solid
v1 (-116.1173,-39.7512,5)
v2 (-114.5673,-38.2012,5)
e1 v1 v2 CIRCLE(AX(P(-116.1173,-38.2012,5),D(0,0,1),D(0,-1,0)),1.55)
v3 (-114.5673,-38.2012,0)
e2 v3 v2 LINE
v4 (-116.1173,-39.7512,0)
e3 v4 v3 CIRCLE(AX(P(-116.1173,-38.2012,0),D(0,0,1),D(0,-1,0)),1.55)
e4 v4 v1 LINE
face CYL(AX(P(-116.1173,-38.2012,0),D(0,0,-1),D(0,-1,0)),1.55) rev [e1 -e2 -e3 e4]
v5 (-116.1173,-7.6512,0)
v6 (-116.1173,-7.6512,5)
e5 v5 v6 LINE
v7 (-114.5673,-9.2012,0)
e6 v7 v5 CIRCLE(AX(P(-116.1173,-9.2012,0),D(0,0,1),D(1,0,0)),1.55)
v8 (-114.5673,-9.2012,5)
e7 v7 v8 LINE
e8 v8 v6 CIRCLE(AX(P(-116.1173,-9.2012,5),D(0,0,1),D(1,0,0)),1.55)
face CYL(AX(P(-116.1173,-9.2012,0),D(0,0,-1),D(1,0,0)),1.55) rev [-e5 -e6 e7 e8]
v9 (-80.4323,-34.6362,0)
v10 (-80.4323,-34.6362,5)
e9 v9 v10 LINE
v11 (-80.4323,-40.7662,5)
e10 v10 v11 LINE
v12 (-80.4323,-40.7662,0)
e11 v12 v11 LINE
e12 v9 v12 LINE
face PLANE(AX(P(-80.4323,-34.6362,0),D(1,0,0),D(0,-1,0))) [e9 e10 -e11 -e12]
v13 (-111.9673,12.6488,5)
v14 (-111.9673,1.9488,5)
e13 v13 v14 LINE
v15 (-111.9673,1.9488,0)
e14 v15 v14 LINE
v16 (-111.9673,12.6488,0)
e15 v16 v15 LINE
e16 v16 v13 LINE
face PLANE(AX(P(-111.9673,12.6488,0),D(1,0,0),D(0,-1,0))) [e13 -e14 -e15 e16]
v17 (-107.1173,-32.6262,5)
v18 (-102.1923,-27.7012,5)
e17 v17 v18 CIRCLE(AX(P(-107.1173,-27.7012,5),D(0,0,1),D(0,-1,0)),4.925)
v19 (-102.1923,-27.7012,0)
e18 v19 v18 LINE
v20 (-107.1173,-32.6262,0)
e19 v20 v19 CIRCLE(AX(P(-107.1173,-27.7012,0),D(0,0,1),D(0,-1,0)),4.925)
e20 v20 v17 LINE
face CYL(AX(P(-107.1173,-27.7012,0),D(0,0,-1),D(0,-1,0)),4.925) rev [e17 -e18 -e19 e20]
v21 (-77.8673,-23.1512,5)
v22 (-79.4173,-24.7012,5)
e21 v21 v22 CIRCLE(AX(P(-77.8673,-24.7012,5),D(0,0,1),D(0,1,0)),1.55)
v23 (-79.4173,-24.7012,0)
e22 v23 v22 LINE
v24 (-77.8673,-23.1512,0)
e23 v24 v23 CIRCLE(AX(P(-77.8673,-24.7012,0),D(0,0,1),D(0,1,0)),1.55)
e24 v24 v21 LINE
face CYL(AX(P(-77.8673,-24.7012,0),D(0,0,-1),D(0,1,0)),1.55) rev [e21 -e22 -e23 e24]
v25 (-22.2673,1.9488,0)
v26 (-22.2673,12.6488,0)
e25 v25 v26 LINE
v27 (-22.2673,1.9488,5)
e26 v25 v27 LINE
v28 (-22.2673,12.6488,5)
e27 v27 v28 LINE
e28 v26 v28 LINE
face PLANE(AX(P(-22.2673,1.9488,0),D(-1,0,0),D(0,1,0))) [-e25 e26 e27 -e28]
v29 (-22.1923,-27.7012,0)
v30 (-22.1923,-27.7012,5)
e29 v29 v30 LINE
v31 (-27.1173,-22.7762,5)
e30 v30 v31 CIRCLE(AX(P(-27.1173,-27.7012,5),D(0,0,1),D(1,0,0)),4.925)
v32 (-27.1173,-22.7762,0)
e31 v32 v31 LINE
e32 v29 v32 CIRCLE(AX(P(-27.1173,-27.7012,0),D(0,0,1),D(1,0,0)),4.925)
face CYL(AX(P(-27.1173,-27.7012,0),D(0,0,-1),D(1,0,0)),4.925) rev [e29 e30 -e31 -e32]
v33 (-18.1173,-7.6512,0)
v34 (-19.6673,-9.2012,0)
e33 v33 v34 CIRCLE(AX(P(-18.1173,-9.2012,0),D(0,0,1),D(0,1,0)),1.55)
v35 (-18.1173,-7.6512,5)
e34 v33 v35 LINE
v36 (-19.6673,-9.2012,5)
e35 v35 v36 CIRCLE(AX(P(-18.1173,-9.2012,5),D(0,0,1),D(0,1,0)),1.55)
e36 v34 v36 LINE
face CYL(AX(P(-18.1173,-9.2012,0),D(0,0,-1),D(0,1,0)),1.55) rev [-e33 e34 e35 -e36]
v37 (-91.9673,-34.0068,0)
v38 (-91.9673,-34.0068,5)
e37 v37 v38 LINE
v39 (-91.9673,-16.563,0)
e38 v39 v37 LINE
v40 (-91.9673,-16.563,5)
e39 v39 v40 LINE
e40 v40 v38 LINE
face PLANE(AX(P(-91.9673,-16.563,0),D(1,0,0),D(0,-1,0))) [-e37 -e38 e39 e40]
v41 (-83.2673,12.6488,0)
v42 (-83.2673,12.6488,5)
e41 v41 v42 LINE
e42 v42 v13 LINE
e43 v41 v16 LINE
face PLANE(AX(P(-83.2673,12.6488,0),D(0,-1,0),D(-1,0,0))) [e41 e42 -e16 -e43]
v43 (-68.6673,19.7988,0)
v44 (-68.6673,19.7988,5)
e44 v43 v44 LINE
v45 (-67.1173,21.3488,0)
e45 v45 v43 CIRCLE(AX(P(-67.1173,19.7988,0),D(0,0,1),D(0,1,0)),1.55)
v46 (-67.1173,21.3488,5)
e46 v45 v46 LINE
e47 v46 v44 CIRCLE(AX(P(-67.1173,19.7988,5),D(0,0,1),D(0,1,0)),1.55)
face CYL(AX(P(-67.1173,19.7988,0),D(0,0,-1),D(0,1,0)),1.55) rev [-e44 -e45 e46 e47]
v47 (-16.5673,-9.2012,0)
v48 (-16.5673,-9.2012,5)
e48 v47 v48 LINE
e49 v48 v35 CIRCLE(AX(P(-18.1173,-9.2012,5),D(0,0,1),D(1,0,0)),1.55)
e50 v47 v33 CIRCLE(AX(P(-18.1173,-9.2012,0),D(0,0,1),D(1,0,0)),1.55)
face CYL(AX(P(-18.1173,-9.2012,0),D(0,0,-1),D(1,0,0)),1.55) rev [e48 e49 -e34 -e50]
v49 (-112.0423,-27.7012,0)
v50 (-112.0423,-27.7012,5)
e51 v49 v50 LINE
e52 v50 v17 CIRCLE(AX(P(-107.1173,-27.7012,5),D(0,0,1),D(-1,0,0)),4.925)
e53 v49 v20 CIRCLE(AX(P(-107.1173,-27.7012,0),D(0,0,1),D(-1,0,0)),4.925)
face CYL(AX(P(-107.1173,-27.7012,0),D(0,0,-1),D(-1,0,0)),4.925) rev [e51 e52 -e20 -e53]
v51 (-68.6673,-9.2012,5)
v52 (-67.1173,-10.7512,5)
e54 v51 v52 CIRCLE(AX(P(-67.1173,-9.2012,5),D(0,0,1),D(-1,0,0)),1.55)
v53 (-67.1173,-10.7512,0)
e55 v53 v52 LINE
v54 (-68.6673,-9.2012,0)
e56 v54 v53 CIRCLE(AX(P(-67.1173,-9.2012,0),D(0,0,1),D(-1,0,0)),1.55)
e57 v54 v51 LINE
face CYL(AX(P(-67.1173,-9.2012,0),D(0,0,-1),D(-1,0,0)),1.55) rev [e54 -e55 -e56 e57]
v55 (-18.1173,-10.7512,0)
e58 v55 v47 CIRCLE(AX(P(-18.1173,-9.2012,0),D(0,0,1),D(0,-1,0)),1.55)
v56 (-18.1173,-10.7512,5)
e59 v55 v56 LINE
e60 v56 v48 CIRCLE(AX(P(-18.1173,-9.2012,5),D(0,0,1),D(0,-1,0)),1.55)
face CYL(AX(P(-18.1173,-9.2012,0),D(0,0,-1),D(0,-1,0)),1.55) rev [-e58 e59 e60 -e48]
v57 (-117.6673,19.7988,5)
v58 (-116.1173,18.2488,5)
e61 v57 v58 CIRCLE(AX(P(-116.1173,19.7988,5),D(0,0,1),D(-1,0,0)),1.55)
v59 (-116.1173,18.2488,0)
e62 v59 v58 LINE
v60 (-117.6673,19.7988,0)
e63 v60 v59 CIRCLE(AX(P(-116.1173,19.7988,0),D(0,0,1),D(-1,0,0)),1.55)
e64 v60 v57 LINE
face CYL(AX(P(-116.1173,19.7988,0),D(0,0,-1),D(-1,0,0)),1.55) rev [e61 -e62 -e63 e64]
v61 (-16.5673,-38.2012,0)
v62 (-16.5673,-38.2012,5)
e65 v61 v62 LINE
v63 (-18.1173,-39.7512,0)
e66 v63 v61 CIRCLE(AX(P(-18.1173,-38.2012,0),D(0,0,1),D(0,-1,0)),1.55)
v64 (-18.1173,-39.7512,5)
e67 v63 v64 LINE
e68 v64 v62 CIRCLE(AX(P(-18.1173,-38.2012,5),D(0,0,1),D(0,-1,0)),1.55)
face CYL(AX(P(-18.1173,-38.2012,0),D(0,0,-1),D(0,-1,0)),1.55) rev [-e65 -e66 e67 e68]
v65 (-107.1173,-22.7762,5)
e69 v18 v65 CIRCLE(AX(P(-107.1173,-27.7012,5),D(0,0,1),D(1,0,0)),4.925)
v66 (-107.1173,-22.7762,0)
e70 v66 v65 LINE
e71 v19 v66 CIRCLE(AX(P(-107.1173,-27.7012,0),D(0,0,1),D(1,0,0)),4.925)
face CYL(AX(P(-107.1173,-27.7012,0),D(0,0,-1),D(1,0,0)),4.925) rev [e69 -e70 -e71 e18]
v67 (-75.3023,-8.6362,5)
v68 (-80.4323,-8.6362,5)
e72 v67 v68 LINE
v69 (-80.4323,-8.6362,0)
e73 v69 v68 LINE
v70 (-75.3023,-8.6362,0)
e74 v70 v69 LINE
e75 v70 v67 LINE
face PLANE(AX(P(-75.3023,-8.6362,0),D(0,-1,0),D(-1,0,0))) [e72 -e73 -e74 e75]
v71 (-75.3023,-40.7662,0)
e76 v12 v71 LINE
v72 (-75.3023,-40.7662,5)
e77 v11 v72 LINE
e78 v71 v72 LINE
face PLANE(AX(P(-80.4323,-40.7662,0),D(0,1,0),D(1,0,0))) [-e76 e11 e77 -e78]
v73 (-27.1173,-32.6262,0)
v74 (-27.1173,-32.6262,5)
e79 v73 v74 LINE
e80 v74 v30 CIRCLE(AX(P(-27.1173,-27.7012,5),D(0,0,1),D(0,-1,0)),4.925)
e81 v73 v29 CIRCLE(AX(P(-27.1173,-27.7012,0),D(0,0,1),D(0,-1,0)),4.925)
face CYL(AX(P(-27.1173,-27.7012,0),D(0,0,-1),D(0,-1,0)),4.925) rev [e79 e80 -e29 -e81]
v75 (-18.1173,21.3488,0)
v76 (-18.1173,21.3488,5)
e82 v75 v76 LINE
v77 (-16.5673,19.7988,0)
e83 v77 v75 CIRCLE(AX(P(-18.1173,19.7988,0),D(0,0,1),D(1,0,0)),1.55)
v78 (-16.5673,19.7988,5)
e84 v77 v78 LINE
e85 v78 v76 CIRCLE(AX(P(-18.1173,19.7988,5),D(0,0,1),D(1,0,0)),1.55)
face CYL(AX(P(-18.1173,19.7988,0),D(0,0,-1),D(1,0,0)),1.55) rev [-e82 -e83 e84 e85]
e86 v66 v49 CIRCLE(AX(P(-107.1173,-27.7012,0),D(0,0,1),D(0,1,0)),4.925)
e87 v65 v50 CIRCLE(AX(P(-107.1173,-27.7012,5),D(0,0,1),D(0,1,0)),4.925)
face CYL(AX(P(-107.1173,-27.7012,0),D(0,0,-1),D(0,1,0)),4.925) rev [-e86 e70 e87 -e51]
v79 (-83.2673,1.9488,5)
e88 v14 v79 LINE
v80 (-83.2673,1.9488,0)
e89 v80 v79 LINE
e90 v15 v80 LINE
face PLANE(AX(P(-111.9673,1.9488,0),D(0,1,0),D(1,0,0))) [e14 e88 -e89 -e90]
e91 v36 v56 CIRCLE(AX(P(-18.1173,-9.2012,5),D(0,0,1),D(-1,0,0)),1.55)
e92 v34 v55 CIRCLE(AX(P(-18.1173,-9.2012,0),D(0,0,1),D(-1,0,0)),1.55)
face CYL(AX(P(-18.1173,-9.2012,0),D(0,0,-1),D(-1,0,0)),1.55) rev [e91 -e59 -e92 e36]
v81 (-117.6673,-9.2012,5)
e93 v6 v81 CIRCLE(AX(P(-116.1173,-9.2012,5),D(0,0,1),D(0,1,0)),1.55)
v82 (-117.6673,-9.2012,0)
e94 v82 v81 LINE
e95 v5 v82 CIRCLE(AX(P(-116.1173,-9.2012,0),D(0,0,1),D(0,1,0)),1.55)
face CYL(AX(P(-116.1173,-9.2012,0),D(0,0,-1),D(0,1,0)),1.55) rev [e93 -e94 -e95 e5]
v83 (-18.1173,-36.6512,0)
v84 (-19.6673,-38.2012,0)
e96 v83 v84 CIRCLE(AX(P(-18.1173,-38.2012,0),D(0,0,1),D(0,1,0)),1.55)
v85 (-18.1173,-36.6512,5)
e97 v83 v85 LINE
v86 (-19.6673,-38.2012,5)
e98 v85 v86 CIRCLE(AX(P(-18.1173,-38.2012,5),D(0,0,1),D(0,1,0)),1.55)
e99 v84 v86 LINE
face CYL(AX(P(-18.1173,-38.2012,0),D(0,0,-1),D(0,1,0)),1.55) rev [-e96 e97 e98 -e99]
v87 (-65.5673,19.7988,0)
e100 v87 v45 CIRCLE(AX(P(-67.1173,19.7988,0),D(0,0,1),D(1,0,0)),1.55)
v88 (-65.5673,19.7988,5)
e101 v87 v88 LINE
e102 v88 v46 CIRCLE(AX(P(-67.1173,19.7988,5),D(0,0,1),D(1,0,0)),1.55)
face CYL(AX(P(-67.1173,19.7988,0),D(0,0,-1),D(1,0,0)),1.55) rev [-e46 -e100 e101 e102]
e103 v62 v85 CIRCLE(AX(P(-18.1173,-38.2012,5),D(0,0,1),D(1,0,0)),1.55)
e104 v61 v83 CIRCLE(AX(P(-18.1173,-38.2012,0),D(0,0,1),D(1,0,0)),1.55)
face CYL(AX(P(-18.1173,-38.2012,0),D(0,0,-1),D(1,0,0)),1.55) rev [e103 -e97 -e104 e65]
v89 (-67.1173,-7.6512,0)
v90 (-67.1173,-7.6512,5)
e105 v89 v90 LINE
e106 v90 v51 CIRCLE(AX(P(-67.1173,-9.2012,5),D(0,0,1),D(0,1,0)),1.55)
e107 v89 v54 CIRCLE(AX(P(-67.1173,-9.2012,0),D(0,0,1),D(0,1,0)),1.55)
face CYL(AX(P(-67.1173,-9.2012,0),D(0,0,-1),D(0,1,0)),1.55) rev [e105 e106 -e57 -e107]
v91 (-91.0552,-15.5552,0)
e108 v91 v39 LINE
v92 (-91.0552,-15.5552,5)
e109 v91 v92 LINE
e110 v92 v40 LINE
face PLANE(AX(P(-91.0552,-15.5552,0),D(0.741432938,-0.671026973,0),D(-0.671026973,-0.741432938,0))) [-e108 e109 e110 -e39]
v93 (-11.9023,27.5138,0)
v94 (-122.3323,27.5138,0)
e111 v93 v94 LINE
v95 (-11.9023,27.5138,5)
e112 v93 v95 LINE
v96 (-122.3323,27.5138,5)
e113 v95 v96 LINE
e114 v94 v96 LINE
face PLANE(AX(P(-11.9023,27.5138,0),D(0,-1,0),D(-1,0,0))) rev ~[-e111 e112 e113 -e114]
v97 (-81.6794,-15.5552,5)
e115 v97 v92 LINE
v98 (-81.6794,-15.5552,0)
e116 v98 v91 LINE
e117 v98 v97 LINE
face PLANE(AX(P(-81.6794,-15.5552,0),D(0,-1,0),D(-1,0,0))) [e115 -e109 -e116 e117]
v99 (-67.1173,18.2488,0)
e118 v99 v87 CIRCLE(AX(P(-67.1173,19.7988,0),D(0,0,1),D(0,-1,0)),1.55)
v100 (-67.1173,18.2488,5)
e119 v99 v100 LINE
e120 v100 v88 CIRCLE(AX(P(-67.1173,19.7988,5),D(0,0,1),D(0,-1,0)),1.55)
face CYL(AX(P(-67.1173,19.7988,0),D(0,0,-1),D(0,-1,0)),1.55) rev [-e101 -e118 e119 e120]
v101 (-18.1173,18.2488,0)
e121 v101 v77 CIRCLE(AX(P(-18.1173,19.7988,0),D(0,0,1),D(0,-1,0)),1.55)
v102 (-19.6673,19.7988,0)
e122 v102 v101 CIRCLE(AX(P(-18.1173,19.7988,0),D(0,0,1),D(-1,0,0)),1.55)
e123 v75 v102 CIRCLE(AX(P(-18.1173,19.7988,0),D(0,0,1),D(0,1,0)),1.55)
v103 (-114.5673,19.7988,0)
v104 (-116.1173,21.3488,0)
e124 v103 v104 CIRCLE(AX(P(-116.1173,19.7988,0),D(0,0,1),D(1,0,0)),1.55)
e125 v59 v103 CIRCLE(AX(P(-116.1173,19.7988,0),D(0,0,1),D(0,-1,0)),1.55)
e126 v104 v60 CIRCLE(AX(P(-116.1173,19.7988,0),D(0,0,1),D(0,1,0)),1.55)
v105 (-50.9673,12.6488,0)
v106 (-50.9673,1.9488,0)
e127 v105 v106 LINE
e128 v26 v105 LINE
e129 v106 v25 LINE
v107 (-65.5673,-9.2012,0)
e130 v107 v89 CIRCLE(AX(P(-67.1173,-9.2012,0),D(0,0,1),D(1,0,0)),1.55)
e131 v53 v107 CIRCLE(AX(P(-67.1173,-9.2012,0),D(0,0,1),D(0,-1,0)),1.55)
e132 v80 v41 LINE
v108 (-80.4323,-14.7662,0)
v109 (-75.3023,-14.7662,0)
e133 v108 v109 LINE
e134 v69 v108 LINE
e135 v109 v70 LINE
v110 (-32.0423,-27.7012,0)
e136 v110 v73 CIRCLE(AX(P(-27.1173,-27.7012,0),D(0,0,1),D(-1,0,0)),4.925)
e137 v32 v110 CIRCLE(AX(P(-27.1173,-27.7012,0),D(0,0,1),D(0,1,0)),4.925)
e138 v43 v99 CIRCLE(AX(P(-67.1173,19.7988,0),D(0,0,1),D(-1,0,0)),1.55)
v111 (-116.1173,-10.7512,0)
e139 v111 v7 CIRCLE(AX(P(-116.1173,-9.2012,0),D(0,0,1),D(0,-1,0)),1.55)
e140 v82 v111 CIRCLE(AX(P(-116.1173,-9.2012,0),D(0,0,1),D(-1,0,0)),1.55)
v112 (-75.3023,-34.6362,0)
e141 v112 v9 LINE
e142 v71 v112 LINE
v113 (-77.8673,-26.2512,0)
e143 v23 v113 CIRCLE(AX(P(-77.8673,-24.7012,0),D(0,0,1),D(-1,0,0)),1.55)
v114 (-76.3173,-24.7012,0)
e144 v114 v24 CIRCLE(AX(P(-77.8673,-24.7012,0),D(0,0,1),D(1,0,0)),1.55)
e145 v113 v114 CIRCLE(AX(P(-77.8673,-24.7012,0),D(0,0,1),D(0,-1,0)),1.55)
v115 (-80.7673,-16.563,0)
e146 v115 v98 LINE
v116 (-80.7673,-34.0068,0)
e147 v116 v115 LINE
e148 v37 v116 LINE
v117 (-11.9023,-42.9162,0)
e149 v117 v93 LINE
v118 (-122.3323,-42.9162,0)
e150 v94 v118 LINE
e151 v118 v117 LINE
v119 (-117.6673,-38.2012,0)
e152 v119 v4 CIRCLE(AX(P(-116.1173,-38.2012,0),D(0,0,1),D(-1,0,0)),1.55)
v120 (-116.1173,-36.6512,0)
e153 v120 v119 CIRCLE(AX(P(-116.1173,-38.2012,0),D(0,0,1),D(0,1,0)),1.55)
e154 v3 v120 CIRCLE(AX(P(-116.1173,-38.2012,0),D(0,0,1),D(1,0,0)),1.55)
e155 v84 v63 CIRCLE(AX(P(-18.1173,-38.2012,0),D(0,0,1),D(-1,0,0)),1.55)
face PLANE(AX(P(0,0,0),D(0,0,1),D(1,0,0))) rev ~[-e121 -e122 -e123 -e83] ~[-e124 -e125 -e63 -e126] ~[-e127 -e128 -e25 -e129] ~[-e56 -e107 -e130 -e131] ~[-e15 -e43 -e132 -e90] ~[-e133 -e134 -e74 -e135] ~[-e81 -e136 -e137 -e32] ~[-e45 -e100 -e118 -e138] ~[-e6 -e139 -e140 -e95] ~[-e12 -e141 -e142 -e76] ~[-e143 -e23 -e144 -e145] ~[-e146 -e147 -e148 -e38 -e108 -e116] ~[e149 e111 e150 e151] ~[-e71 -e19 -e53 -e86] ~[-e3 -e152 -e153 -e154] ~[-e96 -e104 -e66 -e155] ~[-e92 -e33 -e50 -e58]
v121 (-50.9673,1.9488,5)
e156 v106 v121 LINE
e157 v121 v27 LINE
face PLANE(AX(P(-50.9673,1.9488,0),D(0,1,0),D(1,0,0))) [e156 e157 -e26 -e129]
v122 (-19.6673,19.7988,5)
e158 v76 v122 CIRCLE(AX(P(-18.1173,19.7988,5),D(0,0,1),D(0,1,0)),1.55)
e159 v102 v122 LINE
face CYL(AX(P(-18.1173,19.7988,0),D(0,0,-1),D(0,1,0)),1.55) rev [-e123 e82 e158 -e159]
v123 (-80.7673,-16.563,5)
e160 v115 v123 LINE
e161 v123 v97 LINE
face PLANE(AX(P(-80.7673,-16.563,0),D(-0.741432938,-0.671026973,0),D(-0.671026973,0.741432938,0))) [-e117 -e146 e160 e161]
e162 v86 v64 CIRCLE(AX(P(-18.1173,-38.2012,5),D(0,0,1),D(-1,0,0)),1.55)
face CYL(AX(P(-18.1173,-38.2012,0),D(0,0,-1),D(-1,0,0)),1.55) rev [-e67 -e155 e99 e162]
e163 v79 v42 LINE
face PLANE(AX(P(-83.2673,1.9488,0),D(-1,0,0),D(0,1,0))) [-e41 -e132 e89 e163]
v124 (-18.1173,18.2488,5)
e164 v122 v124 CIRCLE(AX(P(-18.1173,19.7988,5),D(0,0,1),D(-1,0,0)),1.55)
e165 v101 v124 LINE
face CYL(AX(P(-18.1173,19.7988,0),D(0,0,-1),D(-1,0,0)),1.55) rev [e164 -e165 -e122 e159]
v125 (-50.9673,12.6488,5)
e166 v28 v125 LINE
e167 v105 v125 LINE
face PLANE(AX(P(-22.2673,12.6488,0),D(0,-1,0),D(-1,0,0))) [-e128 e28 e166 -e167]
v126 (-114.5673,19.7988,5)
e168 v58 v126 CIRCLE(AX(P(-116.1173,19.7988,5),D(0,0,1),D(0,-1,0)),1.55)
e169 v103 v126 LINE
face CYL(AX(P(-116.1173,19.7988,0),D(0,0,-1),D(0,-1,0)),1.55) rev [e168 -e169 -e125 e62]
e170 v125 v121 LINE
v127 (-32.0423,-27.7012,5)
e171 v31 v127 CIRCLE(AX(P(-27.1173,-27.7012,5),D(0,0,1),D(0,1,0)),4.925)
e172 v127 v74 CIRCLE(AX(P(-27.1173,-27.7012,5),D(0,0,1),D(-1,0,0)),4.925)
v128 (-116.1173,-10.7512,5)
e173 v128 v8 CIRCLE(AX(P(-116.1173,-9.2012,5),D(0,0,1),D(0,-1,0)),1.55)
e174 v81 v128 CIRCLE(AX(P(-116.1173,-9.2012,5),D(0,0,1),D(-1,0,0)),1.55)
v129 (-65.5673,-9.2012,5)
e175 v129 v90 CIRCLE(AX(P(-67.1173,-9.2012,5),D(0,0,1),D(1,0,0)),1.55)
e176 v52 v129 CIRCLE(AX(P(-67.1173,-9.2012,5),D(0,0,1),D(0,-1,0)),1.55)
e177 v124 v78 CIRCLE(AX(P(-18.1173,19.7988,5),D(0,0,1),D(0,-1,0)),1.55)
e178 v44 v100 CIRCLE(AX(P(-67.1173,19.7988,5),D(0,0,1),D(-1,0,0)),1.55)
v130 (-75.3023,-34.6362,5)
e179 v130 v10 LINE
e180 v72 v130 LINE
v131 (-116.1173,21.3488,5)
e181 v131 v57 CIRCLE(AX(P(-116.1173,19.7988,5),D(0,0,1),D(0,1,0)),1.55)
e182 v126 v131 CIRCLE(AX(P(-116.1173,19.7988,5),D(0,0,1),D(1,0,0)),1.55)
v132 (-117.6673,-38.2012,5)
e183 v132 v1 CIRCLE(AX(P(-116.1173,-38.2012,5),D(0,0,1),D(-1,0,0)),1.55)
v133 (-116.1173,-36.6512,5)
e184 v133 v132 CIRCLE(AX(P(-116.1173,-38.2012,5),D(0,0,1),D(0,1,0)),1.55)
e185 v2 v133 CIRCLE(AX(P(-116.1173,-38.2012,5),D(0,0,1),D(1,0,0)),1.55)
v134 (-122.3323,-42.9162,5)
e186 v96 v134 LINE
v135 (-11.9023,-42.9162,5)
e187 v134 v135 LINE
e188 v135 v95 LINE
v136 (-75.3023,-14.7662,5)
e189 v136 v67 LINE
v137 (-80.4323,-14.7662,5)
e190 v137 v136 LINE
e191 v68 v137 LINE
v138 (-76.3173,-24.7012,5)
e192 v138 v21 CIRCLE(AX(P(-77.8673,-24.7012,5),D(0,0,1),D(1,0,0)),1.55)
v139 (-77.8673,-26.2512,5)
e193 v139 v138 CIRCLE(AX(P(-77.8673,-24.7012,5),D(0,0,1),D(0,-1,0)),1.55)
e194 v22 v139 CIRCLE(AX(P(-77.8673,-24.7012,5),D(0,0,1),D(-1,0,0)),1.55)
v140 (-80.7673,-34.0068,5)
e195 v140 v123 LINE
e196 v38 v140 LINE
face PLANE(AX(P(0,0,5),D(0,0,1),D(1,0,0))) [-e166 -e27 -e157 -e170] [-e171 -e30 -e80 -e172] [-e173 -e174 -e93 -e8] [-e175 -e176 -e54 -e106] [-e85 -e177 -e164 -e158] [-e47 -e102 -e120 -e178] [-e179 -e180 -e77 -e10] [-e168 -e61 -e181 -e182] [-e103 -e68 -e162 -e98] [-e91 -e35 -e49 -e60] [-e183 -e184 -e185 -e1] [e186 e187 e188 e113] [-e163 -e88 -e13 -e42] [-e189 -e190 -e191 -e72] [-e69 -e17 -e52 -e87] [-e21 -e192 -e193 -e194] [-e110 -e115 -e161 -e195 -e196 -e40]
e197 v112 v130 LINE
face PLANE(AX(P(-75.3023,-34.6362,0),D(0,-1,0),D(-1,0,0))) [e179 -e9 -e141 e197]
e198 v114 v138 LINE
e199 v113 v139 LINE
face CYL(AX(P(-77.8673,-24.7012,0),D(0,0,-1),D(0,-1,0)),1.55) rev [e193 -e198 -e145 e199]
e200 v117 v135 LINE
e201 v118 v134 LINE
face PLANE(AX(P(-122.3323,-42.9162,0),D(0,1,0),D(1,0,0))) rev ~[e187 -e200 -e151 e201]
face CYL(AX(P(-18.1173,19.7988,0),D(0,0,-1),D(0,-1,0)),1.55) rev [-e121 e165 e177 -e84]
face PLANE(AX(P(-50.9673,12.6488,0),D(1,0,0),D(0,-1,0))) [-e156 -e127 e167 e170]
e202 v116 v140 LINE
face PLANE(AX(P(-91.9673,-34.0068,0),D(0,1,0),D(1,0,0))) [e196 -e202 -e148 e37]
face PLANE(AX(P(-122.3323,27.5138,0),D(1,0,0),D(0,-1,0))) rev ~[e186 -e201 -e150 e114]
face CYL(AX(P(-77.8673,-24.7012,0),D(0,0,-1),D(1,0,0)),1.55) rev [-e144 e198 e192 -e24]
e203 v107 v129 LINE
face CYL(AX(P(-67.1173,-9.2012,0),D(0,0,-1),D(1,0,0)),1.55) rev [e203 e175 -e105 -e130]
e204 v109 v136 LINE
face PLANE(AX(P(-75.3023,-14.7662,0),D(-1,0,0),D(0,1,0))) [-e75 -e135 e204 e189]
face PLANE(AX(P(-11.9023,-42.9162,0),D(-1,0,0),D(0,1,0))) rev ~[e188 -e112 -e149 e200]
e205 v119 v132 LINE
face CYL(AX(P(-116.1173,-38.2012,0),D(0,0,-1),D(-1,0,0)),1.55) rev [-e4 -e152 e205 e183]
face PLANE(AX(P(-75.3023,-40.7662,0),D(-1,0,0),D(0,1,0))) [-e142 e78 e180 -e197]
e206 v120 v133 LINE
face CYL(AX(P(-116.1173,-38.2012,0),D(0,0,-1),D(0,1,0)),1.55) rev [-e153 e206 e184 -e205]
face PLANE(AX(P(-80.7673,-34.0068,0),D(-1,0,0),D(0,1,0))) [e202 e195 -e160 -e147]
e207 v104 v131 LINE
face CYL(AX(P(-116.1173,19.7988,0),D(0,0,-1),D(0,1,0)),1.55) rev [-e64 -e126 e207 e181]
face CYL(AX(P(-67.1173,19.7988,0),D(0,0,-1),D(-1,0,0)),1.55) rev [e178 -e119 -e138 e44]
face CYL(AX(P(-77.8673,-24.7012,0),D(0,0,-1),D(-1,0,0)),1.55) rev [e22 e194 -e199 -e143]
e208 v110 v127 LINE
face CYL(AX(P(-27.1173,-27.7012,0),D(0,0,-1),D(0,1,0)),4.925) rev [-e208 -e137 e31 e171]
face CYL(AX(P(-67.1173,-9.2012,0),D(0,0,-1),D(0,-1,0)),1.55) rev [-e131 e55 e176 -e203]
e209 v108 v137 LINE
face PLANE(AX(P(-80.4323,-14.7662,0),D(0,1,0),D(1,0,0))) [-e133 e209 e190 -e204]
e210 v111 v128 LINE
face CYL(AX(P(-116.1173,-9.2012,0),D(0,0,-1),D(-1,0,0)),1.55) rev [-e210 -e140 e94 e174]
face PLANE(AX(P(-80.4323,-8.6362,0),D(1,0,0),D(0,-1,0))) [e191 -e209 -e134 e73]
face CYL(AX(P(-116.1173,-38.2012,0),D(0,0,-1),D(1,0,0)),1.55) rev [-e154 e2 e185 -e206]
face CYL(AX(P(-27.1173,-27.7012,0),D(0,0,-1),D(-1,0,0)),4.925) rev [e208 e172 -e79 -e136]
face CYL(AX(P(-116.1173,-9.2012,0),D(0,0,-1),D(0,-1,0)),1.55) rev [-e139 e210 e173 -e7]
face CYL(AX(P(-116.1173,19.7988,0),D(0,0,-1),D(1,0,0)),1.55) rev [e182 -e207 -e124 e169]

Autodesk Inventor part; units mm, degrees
ref_plane "YZ Plane" through (0, 0, 0) normal (1, 0, 0) x (0, 1, 0)
ref_plane "XZ Plane" through (0, 0, 0) normal (0, 1, 0) x (-1, 0, 0)
ref_plane "XY Plane" through (0, 0, 0) normal (0, 0, 1) x (1, 0, 0)
sketch "Boceto1" plane through (0, 0, 0) normal (0, 0, 1) x (1, 0, 0)
  arc A0 (-116.1173, 21.3488) -> (-117.6673, 19.7988) centre (-116.1173, 19.7988) ccw
  arc A1 (-117.6673, 19.7988) -> (-116.1173, 18.2488) centre (-116.1173, 19.7988) ccw
  arc A2 (-116.1173, 18.2488) -> (-114.5673, 19.7988) centre (-116.1173, 19.7988) ccw
  arc A3 (-114.5673, 19.7988) -> (-116.1173, 21.3488) centre (-116.1173, 19.7988) ccw
  arc A4 (-67.1173, 21.3488) -> (-68.6673, 19.7988) centre (-67.1173, 19.7988) ccw
  arc A5 (-68.6673, 19.7988) -> (-67.1173, 18.2488) centre (-67.1173, 19.7988) ccw
  arc A6 (-67.1173, 18.2488) -> (-65.5673, 19.7988) centre (-67.1173, 19.7988) ccw
  arc A7 (-65.5673, 19.7988) -> (-67.1173, 21.3488) centre (-67.1173, 19.7988) ccw
  arc A8 (-18.1173, 21.3488) -> (-19.6673, 19.7988) centre (-18.1173, 19.7988) ccw
  arc A9 (-19.6673, 19.7988) -> (-18.1173, 18.2488) centre (-18.1173, 19.7988) ccw
  arc A10 (-18.1173, 18.2488) -> (-16.5673, 19.7988) centre (-18.1173, 19.7988) ccw
  arc A11 (-16.5673, 19.7988) -> (-18.1173, 21.3488) centre (-18.1173, 19.7988) ccw
  arc A12 (-18.1173, -7.6512) -> (-19.6673, -9.2012) centre (-18.1173, -9.2012) ccw
  arc A13 (-19.6673, -9.2012) -> (-18.1173, -10.7512) centre (-18.1173, -9.2012) ccw
  arc A14 (-18.1173, -10.7512) -> (-16.5673, -9.2012) centre (-18.1173, -9.2012) ccw
  arc A15 (-16.5673, -9.2012) -> (-18.1173, -7.6512) centre (-18.1173, -9.2012) ccw
  arc A16 (-67.1173, -7.6512) -> (-68.6673, -9.2012) centre (-67.1173, -9.2012) ccw
  arc A17 (-68.6673, -9.2012) -> (-67.1173, -10.7512) centre (-67.1173, -9.2012) ccw
  arc A18 (-67.1173, -10.7512) -> (-65.5673, -9.2012) centre (-67.1173, -9.2012) ccw
  arc A19 (-65.5673, -9.2012) -> (-67.1173, -7.6512) centre (-67.1173, -9.2012) ccw
  arc A20 (-116.1173, -7.6512) -> (-117.6673, -9.2012) centre (-116.1173, -9.2012) ccw
  arc A21 (-117.6673, -9.2012) -> (-116.1173, -10.7512) centre (-116.1173, -9.2012) ccw
  arc A22 (-116.1173, -10.7512) -> (-114.5673, -9.2012) centre (-116.1173, -9.2012) ccw
  arc A23 (-114.5673, -9.2012) -> (-116.1173, -7.6512) centre (-116.1173, -9.2012) ccw
  arc A24 (-116.1173, -36.6512) -> (-117.6673, -38.2012) centre (-116.1173, -38.2012) ccw
  arc A25 (-117.6673, -38.2012) -> (-116.1173, -39.7512) centre (-116.1173, -38.2012) ccw
  arc A26 (-116.1173, -39.7512) -> (-114.5673, -38.2012) centre (-116.1173, -38.2012) ccw
  arc A27 (-114.5673, -38.2012) -> (-116.1173, -36.6512) centre (-116.1173, -38.2012) ccw
  arc A28 (-18.1173, -36.6512) -> (-19.6673, -38.2012) centre (-18.1173, -38.2012) ccw
  arc A29 (-19.6673, -38.2012) -> (-18.1173, -39.7512) centre (-18.1173, -38.2012) ccw
  arc A30 (-18.1173, -39.7512) -> (-16.5673, -38.2012) centre (-18.1173, -38.2012) ccw
  arc A31 (-16.5673, -38.2012) -> (-18.1173, -36.6512) centre (-18.1173, -38.2012) ccw
  arc A32 (-107.1173, -22.7762) -> (-112.0423, -27.7012) centre (-107.1173, -27.7012) ccw
  arc A33 (-112.0423, -27.7012) -> (-107.1173, -32.6262) centre (-107.1173, -27.7012) ccw
  arc A34 (-107.1173, -32.6262) -> (-102.1923, -27.7012) centre (-107.1173, -27.7012) ccw
  arc A35 (-102.1923, -27.7012) -> (-107.1173, -22.7762) centre (-107.1173, -27.7012) ccw
  arc A36 (-27.1173, -22.7762) -> (-32.0423, -27.7012) centre (-27.1173, -27.7012) ccw
  arc A37 (-32.0423, -27.7012) -> (-27.1173, -32.6262) centre (-27.1173, -27.7012) ccw
  arc A38 (-27.1173, -32.6262) -> (-22.1923, -27.7012) centre (-27.1173, -27.7012) ccw
  arc A39 (-22.1923, -27.7012) -> (-27.1173, -22.7762) centre (-27.1173, -27.7012) ccw
  arc A40 (-77.8673, -23.1512) -> (-79.4173, -24.7012) centre (-77.8673, -24.7012) ccw
  arc A41 (-79.4173, -24.7012) -> (-77.8673, -26.2512) centre (-77.8673, -24.7012) ccw
  arc A42 (-77.8673, -26.2512) -> (-76.3173, -24.7012) centre (-77.8673, -24.7012) ccw
  arc A43 (-76.3173, -24.7012) -> (-77.8673, -23.1512) centre (-77.8673, -24.7012) ccw
  line L0 (-111.9673, 1.9488) -> (-83.2673, 1.9488)
  line L1 (-83.2673, 1.9488) -> (-83.2673, 12.6488)
  line L2 (-83.2673, 12.6488) -> (-111.9673, 12.6488)
  line L3 (-111.9673, 12.6488) -> (-111.9673, 1.9488)
  line L4 (-50.9673, 12.6488) -> (-50.9673, 1.9488)
  line L5 (-50.9673, 1.9488) -> (-22.2673, 1.9488)
  line L6 (-22.2673, 1.9488) -> (-22.2673, 12.6488)
  line L7 (-22.2673, 12.6488) -> (-50.9673, 12.6488)
  line L8 (-80.7673, -16.563) -> (-81.6794, -15.5552)
  line L9 (-81.6794, -15.5552) -> (-91.0552, -15.5552)
  line L10 (-91.0552, -15.5552) -> (-91.9673, -16.563)
  line L11 (-91.9673, -16.563) -> (-91.9673, -34.0068)
  line L12 (-91.9673, -34.0068) -> (-80.7673, -34.0068)
  line L13 (-80.7673, -34.0068) -> (-80.7673, -16.563)
  line L14 (-11.9023, 27.5138) -> (-122.3323, 27.5138)
  line L15 (-122.3323, 27.5138) -> (-122.3323, -42.9162)
  line L16 (-122.3323, -42.9162) -> (-11.9023, -42.9162)
  line L17 (-11.9023, -42.9162) -> (-11.9023, 27.5138)
  line L18 (-75.3023, -14.7662) -> (-75.3023, -8.6362)
  line L19 (-75.3023, -8.6362) -> (-80.4323, -8.6362)
  line L20 (-80.4323, -8.6362) -> (-80.4323, -14.7662)
  line L21 (-80.4323, -14.7662) -> (-75.3023, -14.7662)
  line L22 (-80.4323, -34.6362) -> (-80.4323, -40.7662)
  line L23 (-80.4323, -40.7662) -> (-75.3023, -40.7662)
  line L24 (-75.3023, -40.7662) -> (-75.3023, -34.6362)
  line L25 (-75.3023, -34.6362) -> (-80.4323, -34.6362)
  point P0 (0, 0)
extrude "Extrusión1" add sketch "Boceto1" along normal blind 5
properties part number "carro x lado motor pieza 4"
